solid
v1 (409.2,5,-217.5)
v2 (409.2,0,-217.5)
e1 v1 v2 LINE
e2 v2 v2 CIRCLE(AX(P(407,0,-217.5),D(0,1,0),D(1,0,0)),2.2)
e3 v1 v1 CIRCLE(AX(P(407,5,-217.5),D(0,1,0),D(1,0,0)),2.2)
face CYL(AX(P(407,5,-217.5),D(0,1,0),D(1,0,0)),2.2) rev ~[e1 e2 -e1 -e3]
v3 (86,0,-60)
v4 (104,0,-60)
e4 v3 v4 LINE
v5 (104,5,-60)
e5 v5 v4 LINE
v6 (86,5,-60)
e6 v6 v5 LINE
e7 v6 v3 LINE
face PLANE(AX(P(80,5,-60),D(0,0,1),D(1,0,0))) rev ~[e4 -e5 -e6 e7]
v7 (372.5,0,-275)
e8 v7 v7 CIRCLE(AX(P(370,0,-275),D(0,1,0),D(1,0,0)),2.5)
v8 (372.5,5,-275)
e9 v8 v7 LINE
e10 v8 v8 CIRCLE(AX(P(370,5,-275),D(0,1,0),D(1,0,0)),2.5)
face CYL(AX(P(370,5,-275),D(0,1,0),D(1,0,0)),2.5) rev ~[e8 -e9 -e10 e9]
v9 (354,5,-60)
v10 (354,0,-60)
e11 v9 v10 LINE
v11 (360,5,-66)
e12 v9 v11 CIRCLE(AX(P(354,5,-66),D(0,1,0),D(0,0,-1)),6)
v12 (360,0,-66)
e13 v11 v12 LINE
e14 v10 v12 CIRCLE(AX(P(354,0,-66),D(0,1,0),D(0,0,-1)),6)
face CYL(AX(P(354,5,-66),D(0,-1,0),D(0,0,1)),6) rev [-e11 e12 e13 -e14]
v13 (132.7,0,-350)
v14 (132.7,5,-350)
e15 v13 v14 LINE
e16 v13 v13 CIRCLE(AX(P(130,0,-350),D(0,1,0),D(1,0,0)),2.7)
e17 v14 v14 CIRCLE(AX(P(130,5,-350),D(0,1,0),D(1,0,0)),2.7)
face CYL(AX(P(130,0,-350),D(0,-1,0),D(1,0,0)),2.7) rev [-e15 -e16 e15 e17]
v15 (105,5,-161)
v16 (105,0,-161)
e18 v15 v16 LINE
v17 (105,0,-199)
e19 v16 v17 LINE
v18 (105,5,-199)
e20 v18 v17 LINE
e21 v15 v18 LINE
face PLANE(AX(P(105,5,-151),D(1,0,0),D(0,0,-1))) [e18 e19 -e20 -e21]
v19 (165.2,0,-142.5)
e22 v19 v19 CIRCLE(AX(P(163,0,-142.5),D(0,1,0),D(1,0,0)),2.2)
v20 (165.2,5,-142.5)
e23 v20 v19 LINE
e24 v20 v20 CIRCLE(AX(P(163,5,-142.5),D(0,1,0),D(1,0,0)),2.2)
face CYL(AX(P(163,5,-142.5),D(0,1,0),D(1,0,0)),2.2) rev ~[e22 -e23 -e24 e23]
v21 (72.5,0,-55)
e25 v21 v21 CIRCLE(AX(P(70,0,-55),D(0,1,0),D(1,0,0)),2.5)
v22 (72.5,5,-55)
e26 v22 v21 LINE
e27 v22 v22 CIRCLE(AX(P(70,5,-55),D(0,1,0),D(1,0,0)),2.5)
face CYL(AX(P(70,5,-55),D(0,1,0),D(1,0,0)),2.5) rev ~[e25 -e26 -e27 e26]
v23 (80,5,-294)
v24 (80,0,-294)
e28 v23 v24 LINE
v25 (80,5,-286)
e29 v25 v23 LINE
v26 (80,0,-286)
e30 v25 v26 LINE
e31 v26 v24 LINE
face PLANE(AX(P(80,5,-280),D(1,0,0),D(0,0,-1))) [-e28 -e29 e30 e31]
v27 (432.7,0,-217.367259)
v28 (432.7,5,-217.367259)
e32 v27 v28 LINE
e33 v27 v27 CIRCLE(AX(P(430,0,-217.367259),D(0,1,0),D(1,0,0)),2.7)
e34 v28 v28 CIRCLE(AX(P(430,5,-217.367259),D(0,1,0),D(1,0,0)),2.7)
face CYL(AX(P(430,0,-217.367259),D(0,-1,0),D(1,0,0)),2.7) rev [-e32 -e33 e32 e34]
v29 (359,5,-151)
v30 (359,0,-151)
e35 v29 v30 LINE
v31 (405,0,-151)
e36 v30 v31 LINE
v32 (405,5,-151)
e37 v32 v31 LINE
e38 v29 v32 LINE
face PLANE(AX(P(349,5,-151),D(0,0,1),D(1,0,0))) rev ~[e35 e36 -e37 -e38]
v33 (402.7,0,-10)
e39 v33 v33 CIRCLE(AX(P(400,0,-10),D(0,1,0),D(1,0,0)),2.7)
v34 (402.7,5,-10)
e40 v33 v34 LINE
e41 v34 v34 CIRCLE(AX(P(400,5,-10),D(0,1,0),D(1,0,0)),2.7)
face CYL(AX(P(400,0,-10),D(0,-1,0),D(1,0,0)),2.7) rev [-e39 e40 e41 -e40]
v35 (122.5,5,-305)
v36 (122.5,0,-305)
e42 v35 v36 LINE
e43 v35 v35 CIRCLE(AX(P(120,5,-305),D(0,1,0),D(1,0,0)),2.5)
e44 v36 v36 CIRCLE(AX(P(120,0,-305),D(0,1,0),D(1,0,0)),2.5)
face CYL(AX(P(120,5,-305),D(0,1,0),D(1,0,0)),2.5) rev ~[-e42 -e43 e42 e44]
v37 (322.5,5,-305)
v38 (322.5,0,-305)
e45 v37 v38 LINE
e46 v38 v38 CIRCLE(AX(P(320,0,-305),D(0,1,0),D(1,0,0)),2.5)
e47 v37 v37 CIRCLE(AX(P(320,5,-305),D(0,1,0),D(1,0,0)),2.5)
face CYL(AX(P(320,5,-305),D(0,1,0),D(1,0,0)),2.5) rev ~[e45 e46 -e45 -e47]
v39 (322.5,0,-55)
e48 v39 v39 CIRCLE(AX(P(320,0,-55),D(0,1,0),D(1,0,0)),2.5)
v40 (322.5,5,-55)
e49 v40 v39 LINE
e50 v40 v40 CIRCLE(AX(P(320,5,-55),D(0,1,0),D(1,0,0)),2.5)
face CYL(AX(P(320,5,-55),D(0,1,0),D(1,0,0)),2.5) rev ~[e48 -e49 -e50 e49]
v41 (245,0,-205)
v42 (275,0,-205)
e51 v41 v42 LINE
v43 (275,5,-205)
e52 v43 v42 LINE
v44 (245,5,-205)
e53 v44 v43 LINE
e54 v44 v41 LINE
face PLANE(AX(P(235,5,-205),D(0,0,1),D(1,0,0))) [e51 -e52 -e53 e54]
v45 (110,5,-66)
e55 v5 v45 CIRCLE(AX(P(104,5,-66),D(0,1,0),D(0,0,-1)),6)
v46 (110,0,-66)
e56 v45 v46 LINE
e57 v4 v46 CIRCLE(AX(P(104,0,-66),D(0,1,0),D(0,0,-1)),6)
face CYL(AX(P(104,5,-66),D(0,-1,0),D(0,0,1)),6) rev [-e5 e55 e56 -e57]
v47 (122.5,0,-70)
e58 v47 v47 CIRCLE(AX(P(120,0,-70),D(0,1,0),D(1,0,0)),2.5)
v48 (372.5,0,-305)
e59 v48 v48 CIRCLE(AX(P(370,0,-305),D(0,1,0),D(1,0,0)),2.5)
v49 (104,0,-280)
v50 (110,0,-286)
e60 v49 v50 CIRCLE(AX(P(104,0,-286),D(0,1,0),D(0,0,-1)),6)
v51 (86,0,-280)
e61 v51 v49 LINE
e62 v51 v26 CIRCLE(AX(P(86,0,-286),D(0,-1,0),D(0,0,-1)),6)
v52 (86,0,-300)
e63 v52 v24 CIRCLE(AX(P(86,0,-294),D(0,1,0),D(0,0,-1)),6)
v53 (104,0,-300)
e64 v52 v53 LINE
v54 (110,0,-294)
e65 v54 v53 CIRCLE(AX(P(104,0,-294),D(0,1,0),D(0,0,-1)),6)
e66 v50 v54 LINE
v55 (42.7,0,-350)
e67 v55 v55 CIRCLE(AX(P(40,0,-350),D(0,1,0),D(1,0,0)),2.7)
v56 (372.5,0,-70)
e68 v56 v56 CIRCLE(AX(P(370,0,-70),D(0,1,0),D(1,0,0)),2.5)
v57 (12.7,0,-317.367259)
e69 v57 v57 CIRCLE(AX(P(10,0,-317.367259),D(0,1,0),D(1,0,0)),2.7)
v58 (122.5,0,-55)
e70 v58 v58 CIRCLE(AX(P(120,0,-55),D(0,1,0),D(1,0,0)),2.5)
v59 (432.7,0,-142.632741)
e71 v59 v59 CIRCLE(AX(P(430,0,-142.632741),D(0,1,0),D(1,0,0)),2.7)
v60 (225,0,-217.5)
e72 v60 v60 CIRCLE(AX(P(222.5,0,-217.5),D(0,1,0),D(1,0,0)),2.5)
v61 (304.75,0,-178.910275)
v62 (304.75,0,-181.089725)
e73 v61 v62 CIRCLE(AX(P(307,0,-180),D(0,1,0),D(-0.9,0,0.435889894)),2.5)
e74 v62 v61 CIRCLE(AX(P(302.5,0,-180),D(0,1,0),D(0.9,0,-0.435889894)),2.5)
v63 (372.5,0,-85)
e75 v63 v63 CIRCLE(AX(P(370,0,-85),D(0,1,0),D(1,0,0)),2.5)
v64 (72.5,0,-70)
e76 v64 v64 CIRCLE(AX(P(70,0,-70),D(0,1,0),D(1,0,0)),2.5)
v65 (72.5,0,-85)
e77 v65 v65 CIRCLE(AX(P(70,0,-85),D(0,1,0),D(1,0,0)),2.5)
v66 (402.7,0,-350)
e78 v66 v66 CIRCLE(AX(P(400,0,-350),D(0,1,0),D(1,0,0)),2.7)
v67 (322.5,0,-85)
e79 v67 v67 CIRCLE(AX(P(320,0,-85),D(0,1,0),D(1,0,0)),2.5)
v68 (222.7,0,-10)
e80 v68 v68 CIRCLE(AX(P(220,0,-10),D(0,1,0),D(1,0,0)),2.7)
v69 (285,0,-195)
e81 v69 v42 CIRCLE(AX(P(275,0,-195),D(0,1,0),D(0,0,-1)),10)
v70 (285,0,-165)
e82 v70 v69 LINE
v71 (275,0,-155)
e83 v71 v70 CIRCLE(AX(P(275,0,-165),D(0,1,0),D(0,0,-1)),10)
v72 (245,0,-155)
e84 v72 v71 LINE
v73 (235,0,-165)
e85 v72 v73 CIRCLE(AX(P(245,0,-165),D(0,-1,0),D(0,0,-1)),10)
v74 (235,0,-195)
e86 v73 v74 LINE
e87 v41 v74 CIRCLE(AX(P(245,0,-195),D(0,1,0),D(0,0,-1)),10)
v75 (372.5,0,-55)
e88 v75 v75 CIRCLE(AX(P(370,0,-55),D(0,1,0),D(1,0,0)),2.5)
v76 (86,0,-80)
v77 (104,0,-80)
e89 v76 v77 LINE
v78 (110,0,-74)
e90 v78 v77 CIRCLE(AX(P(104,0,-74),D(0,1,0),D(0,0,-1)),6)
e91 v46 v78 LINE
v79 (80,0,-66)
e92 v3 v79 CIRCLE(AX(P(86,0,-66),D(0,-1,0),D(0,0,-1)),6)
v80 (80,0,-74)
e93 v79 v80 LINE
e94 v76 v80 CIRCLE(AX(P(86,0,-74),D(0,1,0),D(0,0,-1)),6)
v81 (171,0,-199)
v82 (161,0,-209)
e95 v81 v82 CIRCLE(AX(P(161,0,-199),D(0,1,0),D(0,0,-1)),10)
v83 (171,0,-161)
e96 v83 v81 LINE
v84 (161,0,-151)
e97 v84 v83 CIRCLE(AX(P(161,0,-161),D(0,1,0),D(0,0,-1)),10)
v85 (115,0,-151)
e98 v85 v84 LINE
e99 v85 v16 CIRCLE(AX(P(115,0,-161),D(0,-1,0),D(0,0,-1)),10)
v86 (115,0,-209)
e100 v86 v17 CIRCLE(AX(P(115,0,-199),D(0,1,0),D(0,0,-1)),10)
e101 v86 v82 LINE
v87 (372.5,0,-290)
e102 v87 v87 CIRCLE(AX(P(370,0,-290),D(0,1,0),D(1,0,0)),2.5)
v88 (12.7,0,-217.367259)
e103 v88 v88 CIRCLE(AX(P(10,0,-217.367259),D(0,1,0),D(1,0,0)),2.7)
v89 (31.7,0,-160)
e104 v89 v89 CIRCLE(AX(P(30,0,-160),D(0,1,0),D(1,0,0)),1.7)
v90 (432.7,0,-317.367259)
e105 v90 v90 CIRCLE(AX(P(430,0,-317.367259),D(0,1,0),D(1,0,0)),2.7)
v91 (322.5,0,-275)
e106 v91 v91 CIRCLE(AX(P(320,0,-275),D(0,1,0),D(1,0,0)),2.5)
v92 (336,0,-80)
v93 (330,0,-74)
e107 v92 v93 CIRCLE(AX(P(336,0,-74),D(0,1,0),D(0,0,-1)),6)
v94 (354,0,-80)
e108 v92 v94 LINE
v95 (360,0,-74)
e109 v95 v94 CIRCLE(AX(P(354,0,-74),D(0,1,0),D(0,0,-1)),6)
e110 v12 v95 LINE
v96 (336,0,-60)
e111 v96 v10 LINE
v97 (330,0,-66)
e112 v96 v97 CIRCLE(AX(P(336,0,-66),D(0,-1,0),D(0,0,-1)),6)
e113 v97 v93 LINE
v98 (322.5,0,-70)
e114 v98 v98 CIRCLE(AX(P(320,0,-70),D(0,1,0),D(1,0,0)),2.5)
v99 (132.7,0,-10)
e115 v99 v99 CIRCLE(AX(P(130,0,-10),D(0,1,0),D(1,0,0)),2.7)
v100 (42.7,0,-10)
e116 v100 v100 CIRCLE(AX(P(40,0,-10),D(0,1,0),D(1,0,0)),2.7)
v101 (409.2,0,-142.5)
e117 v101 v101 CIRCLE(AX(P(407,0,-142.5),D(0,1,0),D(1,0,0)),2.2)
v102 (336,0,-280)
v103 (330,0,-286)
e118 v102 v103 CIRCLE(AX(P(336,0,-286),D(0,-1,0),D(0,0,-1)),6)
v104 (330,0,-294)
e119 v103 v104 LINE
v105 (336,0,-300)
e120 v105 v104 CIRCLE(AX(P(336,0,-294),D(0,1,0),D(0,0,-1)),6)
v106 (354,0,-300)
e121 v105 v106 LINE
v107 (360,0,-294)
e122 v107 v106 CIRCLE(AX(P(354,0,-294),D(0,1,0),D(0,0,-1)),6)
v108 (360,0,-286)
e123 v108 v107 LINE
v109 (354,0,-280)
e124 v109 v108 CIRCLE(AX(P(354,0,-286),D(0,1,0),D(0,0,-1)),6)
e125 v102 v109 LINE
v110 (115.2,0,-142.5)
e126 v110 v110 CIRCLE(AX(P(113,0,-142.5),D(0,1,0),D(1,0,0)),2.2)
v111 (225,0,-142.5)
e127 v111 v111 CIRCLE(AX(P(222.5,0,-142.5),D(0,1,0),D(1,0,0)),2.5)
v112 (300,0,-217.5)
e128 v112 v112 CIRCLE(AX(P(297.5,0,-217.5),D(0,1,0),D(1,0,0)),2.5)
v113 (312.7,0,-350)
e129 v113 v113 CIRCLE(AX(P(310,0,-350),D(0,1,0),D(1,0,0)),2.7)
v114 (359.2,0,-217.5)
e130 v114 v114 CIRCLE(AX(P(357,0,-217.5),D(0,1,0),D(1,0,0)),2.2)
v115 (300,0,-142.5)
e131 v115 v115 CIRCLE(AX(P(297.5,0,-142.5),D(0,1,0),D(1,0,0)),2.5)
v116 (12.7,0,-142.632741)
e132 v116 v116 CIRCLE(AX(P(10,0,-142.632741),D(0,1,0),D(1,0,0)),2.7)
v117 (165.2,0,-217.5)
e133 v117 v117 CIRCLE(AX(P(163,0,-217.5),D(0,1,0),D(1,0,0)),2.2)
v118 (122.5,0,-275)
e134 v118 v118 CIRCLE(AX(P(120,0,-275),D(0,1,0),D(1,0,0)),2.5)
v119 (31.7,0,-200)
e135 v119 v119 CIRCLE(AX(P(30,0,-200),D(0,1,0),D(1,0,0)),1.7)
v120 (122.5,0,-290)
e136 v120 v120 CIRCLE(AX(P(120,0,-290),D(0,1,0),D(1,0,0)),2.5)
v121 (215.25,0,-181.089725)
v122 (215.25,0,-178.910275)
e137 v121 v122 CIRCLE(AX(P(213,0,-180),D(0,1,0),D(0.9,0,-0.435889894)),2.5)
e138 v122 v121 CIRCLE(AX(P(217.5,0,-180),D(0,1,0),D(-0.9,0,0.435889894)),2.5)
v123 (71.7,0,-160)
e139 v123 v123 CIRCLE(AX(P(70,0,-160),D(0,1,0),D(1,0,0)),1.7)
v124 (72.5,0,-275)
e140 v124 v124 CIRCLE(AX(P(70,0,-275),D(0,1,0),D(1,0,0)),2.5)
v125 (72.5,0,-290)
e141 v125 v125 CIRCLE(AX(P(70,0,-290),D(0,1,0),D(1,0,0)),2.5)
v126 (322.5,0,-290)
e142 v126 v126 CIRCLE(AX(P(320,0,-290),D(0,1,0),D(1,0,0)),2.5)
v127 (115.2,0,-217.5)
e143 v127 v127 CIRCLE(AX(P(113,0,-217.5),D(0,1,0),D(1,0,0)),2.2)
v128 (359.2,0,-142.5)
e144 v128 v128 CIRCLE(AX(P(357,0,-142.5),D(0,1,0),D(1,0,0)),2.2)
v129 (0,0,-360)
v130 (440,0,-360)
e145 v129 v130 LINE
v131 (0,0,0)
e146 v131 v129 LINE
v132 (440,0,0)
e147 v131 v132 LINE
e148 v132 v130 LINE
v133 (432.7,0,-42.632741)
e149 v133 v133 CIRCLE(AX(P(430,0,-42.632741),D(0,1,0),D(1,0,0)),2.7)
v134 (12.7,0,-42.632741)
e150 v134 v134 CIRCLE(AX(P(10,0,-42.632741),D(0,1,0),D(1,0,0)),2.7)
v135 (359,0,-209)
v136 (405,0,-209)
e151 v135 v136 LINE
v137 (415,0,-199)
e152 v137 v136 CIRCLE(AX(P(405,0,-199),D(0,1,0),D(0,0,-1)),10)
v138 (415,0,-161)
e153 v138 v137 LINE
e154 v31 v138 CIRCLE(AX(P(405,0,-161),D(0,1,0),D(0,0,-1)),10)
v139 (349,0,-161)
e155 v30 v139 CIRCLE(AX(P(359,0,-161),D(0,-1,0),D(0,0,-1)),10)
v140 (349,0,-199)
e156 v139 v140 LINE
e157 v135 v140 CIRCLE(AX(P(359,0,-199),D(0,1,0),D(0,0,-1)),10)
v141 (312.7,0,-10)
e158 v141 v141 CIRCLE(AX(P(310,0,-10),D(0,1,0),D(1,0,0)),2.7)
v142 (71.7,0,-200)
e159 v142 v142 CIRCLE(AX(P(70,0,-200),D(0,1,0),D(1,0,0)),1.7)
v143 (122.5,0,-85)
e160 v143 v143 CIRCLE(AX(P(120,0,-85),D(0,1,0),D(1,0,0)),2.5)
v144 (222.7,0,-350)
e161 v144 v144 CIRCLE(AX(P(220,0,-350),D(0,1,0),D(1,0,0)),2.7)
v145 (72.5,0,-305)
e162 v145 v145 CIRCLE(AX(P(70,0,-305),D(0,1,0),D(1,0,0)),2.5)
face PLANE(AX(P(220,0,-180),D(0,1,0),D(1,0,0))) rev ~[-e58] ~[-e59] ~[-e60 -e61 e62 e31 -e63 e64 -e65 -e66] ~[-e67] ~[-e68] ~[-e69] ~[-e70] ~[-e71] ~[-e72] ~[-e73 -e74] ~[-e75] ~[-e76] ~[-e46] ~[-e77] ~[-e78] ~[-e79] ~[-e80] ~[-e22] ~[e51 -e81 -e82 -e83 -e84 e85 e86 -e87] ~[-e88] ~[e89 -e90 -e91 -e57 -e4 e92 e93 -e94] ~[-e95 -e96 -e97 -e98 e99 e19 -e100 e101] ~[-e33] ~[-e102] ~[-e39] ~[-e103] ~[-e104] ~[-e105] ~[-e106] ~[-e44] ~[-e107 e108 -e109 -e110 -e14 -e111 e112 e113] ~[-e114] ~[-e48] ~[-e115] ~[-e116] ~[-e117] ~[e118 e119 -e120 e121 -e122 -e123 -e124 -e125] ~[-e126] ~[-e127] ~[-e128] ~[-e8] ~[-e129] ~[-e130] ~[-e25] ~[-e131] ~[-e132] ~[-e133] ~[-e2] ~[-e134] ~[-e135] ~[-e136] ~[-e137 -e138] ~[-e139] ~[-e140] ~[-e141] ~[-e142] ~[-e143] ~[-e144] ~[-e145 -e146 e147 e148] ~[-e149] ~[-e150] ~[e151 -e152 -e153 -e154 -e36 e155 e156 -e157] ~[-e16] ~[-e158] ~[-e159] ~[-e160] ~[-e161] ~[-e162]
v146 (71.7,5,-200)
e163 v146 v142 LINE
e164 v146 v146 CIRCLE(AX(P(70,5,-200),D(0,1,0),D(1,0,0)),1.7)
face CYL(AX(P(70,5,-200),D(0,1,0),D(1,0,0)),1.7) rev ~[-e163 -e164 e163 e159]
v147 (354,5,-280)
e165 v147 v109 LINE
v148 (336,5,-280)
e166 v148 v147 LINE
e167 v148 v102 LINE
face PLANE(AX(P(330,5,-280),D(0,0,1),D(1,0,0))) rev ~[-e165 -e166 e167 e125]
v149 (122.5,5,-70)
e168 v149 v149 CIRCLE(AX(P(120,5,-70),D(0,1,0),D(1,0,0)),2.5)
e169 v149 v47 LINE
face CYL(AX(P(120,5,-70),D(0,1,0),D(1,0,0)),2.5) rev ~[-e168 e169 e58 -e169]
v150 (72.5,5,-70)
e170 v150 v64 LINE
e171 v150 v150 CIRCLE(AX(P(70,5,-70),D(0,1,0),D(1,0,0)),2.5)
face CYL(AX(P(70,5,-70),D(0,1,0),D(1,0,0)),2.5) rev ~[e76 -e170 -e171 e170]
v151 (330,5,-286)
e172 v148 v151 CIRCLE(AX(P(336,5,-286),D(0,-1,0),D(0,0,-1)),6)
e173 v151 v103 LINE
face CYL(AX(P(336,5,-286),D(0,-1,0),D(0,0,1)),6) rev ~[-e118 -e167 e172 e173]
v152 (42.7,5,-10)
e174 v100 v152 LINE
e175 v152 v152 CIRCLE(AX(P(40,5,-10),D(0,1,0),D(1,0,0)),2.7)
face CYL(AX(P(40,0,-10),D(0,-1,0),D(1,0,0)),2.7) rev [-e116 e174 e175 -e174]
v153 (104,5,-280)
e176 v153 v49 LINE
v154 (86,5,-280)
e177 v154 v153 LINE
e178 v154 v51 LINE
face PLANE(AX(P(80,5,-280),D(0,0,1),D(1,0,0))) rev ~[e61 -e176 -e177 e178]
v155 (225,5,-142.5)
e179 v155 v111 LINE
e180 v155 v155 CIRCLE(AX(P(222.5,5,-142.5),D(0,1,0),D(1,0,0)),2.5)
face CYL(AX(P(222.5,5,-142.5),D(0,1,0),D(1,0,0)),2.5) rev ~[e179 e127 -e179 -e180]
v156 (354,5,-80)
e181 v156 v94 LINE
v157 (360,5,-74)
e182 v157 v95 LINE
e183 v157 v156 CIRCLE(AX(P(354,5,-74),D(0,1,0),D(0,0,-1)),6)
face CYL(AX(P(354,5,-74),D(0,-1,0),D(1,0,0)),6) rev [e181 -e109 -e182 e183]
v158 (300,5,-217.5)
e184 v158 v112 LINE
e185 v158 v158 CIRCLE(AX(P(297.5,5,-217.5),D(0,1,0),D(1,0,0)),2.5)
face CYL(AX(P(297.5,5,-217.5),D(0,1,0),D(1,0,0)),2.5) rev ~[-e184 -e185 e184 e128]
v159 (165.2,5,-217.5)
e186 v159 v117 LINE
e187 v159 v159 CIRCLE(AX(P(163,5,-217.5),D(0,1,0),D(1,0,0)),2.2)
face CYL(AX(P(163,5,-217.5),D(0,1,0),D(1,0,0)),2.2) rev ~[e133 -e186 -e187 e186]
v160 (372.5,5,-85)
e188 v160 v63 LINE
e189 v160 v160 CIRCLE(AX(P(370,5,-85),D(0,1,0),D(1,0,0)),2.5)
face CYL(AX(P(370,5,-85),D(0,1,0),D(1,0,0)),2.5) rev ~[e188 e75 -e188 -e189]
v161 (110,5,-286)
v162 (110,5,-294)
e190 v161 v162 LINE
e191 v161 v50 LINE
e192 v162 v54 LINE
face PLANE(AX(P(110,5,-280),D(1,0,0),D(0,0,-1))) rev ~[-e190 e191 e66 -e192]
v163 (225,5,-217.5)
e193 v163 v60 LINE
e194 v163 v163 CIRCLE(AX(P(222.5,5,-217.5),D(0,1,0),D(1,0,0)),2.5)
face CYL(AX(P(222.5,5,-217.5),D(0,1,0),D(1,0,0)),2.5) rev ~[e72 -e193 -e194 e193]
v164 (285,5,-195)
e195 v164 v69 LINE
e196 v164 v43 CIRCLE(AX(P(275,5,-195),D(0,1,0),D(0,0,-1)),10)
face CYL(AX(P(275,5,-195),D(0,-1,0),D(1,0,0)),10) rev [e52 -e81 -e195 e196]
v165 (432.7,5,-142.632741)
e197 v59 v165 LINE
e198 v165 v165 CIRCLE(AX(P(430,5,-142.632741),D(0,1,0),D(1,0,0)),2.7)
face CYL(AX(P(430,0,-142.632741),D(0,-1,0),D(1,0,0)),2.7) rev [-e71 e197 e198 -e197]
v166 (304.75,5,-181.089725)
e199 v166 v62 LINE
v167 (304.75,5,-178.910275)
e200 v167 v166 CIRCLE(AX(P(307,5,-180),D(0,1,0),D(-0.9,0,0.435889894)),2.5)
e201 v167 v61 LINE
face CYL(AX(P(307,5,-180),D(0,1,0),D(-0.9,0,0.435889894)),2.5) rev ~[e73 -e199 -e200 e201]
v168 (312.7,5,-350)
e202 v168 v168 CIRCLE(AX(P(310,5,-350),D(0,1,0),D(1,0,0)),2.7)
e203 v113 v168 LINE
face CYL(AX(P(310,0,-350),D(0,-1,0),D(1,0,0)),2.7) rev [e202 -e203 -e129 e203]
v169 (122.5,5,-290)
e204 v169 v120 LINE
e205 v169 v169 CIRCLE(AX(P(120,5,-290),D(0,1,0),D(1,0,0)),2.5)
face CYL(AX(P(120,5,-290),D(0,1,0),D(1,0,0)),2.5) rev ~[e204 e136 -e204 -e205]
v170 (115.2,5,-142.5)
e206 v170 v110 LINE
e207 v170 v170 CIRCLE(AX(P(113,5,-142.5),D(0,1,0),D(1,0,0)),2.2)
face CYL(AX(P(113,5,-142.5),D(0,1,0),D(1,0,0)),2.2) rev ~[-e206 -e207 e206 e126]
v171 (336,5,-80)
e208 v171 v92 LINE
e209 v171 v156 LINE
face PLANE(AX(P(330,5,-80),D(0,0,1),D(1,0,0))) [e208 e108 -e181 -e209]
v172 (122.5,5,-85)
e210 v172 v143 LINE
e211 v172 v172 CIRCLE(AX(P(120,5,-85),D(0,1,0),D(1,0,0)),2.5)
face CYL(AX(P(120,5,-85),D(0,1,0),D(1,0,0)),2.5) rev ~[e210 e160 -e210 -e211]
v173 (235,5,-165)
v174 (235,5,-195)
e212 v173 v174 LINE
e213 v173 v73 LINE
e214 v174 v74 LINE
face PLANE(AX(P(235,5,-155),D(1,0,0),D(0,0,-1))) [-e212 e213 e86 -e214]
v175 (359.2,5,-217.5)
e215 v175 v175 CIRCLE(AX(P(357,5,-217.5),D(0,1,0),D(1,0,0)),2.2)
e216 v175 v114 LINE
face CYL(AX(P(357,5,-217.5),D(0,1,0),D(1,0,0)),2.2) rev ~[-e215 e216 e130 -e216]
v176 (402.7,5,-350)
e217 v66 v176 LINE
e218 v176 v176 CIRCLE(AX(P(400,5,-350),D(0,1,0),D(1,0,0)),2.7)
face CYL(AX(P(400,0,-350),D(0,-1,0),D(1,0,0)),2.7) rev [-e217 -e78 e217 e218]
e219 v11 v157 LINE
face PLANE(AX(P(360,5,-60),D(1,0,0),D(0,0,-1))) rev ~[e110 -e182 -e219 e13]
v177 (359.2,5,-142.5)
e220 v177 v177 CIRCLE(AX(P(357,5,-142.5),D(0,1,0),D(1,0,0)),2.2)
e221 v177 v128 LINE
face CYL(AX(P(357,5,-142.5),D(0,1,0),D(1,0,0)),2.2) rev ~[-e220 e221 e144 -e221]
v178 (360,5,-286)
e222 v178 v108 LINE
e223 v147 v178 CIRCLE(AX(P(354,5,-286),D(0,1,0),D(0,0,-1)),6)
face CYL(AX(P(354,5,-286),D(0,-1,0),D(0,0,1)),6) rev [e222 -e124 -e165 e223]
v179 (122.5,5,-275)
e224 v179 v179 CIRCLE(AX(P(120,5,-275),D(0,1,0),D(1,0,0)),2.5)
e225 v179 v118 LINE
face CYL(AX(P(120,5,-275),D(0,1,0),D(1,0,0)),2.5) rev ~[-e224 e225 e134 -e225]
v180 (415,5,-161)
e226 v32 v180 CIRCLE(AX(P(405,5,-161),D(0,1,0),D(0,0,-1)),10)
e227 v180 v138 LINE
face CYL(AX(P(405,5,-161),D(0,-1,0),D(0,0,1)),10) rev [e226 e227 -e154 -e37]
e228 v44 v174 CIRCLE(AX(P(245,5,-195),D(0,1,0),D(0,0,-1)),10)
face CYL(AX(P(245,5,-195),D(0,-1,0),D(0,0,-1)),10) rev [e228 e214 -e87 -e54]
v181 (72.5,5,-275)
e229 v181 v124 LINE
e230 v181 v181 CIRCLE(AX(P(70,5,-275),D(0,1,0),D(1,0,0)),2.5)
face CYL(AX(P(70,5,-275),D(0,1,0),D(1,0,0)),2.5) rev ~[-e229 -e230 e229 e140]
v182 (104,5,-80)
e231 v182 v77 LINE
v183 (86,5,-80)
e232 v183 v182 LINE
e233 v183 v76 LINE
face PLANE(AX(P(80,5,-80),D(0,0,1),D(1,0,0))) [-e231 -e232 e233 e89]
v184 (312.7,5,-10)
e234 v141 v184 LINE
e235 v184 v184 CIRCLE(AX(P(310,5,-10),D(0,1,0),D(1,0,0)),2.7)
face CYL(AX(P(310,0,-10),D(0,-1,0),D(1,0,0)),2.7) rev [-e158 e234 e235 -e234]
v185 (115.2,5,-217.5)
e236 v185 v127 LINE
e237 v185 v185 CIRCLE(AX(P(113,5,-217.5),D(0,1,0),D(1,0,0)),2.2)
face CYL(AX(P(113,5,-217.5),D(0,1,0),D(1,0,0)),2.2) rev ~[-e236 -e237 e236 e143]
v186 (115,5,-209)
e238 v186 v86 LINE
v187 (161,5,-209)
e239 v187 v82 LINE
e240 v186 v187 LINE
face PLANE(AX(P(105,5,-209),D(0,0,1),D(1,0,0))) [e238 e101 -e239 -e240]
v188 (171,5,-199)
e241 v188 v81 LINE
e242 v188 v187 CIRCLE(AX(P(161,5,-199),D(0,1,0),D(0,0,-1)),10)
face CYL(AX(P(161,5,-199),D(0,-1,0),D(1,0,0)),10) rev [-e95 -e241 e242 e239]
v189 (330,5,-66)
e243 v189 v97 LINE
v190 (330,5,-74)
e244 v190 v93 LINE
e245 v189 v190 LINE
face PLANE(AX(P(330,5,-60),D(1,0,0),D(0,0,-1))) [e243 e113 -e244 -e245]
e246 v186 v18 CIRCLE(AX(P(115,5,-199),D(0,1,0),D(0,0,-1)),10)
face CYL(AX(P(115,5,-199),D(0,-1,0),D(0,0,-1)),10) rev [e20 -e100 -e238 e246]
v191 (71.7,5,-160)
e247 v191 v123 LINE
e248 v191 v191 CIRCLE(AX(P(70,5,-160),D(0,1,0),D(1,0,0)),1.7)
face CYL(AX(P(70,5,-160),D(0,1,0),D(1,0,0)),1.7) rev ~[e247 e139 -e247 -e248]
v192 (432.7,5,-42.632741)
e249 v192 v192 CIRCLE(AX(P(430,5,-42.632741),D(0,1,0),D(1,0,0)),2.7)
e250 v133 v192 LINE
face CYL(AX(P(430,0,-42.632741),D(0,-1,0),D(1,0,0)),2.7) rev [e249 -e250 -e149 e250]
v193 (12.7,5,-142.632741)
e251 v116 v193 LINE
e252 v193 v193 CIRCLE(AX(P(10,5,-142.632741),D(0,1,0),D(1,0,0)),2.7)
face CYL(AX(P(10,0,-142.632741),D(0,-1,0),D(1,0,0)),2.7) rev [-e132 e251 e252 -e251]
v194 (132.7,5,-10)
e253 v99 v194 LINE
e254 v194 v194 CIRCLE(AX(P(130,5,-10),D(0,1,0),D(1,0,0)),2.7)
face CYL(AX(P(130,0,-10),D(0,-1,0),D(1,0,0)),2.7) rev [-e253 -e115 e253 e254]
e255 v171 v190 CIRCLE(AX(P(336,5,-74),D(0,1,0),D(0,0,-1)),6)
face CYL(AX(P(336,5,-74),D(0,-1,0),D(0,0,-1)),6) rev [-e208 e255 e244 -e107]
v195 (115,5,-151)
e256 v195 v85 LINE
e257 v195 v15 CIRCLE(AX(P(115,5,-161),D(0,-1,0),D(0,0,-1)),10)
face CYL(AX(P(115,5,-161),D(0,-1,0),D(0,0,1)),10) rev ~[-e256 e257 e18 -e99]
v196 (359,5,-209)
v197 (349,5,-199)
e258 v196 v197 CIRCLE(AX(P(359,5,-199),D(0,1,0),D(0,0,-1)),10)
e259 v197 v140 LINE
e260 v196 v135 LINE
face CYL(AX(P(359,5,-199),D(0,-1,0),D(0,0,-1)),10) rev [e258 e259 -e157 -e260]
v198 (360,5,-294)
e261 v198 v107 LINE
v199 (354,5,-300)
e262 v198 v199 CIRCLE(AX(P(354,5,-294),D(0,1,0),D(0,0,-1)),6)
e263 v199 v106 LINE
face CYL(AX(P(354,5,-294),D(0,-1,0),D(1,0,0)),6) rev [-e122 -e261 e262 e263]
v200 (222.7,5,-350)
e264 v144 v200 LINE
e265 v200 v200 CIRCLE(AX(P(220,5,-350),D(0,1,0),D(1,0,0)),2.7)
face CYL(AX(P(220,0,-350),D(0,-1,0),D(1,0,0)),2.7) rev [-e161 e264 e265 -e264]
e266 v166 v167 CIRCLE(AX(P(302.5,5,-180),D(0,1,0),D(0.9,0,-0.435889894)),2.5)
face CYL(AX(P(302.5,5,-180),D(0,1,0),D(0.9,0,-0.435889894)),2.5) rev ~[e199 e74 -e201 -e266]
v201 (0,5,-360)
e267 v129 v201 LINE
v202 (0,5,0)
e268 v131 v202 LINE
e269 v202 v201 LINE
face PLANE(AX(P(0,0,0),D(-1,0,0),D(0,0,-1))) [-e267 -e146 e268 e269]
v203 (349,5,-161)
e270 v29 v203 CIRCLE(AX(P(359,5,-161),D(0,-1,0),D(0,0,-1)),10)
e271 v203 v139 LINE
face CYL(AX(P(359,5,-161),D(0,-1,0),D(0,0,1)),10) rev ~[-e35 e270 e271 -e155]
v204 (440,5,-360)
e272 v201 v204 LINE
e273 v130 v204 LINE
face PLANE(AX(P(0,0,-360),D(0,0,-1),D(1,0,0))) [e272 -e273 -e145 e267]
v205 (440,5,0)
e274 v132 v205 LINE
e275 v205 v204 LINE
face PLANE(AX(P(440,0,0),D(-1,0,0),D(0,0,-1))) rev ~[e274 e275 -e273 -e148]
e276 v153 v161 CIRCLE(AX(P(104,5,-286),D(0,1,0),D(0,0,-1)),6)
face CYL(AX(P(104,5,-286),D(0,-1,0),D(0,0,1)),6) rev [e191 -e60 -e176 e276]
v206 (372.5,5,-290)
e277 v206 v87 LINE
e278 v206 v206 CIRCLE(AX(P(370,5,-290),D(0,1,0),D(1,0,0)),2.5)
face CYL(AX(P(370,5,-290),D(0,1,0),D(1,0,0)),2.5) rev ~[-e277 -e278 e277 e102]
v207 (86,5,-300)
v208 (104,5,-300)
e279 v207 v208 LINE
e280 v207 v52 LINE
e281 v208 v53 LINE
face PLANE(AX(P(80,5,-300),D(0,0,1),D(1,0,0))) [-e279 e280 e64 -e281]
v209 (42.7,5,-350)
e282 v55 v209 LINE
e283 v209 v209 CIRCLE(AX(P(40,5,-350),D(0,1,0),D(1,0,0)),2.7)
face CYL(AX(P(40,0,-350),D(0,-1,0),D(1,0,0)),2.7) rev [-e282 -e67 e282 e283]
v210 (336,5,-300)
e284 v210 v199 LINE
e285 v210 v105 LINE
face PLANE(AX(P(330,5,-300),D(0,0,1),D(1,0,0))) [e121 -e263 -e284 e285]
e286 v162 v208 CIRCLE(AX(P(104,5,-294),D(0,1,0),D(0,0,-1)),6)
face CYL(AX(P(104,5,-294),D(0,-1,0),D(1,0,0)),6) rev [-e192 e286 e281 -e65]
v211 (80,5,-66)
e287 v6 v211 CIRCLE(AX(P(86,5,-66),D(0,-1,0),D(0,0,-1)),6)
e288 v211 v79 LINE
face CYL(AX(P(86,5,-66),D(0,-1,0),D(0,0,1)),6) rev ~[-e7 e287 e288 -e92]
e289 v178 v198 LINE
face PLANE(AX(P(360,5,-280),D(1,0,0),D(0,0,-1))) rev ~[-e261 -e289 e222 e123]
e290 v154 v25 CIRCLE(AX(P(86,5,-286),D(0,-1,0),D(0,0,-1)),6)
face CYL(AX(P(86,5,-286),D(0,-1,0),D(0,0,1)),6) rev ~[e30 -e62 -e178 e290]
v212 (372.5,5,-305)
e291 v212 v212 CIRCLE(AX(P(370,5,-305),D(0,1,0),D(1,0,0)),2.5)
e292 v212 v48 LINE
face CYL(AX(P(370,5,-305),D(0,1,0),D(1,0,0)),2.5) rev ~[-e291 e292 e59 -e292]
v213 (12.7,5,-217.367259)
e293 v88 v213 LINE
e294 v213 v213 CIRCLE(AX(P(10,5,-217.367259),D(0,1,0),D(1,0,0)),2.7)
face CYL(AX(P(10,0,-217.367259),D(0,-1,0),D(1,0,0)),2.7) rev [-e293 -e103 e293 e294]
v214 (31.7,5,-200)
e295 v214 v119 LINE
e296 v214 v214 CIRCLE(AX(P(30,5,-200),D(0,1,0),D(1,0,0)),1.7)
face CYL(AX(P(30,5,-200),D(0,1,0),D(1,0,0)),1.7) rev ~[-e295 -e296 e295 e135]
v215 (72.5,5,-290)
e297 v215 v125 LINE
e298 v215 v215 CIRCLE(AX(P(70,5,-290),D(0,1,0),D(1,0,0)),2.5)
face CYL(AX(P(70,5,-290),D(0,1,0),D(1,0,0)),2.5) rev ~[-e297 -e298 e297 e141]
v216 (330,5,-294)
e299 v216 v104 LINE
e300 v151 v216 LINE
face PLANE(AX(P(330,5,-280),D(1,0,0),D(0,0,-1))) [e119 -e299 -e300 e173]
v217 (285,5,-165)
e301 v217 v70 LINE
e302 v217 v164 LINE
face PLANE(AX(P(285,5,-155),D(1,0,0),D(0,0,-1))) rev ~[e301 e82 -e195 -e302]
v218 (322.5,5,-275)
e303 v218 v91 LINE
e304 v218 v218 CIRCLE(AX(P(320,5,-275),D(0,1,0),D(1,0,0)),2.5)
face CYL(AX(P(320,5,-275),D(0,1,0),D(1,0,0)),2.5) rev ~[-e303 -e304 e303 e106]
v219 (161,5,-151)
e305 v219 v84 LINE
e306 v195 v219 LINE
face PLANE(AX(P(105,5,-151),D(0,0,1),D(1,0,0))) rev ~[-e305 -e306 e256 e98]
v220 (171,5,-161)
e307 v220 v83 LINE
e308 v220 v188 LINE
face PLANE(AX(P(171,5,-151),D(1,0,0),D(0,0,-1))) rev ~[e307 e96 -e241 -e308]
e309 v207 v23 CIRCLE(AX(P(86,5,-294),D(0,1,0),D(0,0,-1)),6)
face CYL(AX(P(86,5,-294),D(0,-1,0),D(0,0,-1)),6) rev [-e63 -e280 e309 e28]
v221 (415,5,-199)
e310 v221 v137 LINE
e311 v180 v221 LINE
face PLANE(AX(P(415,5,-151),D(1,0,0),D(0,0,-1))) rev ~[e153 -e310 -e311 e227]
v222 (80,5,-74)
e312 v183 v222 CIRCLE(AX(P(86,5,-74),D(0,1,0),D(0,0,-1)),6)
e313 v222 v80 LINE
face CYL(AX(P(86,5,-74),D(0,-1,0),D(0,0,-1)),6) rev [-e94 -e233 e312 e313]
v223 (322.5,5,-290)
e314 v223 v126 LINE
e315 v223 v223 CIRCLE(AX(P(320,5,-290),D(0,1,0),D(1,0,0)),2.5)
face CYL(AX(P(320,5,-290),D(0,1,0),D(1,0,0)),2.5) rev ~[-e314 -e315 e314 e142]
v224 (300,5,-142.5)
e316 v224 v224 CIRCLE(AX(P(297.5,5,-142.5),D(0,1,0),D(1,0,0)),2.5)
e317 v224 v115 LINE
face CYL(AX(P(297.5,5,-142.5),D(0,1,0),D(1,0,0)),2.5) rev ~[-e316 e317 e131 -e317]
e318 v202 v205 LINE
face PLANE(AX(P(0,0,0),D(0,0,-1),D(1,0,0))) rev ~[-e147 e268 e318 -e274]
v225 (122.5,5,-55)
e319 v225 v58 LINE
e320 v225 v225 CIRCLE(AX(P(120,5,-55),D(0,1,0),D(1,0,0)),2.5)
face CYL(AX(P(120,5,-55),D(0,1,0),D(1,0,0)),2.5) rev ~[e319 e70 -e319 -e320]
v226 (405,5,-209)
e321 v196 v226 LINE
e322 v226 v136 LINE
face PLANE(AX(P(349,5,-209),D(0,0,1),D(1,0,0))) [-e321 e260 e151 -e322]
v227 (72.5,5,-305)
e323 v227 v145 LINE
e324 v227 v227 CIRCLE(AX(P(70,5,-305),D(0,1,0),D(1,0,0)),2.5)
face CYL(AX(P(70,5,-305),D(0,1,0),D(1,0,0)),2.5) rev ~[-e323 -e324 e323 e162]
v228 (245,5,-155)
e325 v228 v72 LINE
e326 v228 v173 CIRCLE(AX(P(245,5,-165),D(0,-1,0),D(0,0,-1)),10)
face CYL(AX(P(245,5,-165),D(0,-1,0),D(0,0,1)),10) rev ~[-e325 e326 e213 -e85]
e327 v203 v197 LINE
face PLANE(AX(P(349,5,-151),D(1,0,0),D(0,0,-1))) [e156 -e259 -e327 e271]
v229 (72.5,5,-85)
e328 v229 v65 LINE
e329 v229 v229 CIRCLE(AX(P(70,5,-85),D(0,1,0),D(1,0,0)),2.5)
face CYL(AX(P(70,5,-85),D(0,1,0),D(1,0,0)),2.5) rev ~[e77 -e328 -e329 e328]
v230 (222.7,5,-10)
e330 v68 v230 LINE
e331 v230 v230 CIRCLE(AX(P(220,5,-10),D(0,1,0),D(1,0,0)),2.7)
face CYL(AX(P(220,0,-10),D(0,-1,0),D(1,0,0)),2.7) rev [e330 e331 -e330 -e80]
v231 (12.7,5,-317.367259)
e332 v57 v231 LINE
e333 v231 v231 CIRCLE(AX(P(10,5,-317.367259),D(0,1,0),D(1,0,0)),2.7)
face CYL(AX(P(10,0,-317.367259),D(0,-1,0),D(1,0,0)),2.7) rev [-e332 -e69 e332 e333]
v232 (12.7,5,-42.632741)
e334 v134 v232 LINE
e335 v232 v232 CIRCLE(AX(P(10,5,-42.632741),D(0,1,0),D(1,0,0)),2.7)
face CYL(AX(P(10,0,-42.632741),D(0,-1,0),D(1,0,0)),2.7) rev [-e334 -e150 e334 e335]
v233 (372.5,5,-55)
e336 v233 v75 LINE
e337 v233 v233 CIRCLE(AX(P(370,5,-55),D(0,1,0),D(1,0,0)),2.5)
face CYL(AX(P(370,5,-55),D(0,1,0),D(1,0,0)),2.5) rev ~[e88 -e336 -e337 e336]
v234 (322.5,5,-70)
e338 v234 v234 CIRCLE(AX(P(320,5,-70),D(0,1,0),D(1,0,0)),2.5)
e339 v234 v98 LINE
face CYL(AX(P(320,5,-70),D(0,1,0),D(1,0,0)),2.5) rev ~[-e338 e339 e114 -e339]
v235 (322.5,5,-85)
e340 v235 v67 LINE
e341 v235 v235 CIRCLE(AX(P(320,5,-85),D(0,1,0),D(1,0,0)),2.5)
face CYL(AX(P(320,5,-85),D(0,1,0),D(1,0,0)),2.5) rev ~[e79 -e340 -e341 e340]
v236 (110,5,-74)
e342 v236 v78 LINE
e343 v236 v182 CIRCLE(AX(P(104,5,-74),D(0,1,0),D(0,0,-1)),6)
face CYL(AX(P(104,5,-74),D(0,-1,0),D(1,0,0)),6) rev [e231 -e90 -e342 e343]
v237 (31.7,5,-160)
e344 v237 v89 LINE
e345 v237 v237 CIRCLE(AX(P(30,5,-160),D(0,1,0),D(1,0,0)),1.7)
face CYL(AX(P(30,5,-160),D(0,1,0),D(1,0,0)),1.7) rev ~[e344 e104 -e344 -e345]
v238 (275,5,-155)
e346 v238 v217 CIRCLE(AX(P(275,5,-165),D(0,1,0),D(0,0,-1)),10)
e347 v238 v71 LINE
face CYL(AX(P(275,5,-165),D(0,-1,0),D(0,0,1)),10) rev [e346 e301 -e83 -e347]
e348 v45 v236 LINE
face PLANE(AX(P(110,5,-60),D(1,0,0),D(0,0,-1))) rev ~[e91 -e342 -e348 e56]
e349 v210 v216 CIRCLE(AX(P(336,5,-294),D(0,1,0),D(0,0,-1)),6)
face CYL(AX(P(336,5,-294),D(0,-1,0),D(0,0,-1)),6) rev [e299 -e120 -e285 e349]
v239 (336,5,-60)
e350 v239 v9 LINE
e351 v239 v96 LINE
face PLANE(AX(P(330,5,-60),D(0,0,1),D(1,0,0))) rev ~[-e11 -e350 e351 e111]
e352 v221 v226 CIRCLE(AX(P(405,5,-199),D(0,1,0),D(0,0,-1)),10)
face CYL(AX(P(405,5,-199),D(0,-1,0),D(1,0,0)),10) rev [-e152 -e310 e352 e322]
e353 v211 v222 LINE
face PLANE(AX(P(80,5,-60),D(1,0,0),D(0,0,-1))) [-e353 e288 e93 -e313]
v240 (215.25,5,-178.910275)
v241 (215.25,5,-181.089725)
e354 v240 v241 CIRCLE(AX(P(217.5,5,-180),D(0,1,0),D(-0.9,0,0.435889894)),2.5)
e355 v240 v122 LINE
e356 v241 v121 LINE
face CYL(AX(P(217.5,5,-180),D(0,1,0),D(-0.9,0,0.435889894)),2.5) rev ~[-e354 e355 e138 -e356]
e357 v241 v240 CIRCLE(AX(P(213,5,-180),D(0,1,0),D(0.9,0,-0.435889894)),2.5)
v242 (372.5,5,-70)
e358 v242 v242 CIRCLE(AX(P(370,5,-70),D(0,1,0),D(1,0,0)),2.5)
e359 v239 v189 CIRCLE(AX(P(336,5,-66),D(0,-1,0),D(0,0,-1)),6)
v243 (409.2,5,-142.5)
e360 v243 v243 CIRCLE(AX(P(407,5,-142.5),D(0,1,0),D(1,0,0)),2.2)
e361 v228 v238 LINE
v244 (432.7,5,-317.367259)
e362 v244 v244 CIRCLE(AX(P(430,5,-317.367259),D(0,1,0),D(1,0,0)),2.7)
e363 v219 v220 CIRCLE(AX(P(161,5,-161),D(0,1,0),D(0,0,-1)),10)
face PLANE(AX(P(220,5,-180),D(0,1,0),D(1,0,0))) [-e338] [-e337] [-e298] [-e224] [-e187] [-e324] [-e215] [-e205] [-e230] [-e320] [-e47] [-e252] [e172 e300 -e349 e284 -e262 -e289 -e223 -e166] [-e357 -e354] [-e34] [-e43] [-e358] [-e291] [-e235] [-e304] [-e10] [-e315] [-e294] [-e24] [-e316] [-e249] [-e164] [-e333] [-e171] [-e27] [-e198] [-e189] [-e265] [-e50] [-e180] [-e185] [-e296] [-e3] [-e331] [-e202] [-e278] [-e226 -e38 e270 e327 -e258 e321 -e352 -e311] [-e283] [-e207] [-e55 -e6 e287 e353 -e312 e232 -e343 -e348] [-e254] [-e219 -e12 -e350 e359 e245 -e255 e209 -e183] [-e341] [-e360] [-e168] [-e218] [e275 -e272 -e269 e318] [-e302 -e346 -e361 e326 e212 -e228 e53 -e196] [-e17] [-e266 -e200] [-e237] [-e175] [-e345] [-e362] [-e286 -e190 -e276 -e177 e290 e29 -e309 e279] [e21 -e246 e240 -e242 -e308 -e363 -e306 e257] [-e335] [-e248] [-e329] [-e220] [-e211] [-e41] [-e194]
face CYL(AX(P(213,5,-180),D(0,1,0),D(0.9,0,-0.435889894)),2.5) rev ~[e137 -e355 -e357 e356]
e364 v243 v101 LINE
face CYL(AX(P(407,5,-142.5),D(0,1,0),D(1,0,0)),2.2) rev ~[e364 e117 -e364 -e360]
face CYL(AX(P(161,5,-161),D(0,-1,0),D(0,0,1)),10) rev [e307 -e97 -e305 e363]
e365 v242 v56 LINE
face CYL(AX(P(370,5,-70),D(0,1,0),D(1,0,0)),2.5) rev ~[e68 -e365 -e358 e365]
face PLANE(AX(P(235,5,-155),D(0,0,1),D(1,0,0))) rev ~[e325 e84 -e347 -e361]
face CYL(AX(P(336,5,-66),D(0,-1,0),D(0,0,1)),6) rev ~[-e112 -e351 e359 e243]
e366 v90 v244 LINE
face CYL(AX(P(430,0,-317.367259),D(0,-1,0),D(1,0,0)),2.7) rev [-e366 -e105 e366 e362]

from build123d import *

# Parameters (mm, degrees)
ESQUISSE1_W             = 440
ESQUISSE1_H             = 360
ESQUISSE1_R             = 2.7
BOSS_EXTRU_1_DEPTH      = 5
ESQUISSE2_R             = 1.7
ESQUISSE2_R_2           = 2.5
ESQUISSE2_R_3           = 2.2
ESQUISSE2_W             = 66
ESQUISSE2_H             = 58
ESQUISSE2_W_2           = 50
ESQUISSE2_H_2           = 50
ENL_V_MAT_EXTRU_1_DEPTH = 6
CONG_1_R                = 10
ESQUISSE4_R             = 2.5
ESQUISSE4_W             = 30
ESQUISSE4_H             = 20
ENL_V_MAT_EXTRU_2_DEPTH = 10
CONG_2_R                = 6


with BuildPart() as part:
    # Esquisse1 → Boss.-Extru.1 (new body)
    with BuildSketch(Plane(origin=(0, 0, 0), x_dir=(1, 0, 0), z_dir=(0, 1, 0))):
        with Locations((220, 180)):
            Rectangle(ESQUISSE1_W, ESQUISSE1_H)
        with Locations((40, 350)):
            Circle(ESQUISSE1_R, mode=Mode.SUBTRACT)
        with Locations((130, 350)):
            Circle(ESQUISSE1_R, mode=Mode.SUBTRACT)
        with Locations((220, 350)):
            Circle(ESQUISSE1_R, mode=Mode.SUBTRACT)
        with Locations((310, 350)):
            Circle(ESQUISSE1_R, mode=Mode.SUBTRACT)
        with Locations((400, 350)):
            Circle(ESQUISSE1_R, mode=Mode.SUBTRACT)
        with Locations((400, 10)):
            Circle(ESQUISSE1_R, mode=Mode.SUBTRACT)
        with Locations((310, 10)):
            Circle(ESQUISSE1_R, mode=Mode.SUBTRACT)
        with Locations((220, 10)):
            Circle(ESQUISSE1_R, mode=Mode.SUBTRACT)
        with Locations((130, 10)):
            Circle(ESQUISSE1_R, mode=Mode.SUBTRACT)
        with Locations((40, 10)):
            Circle(ESQUISSE1_R, mode=Mode.SUBTRACT)
        with Locations((10, 217.36725867)):
            Circle(ESQUISSE1_R, mode=Mode.SUBTRACT)
        with Locations((10, 317.36725867)):
            Circle(ESQUISSE1_R, mode=Mode.SUBTRACT)
        with Locations((10, 42.63274133)):
            Circle(ESQUISSE1_R, mode=Mode.SUBTRACT)
        with Locations((10, 142.63274133)):
            Circle(ESQUISSE1_R, mode=Mode.SUBTRACT)
        with Locations((430, 142.63274133)):
            Circle(ESQUISSE1_R, mode=Mode.SUBTRACT)
        with Locations((430, 42.63274133)):
            Circle(ESQUISSE1_R, mode=Mode.SUBTRACT)
        with Locations((430, 317.36725867)):
            Circle(ESQUISSE1_R, mode=Mode.SUBTRACT)
        with Locations((430, 217.36725867)):
            Circle(ESQUISSE1_R, mode=Mode.SUBTRACT)
    extrude(amount=BOSS_EXTRU_1_DEPTH)

    # Esquisse2 → Enlèv. mat.-Extru.1 (cut, through all)
    with BuildSketch(Plane(origin=(0, 5, 0), x_dir=(1, 0, 0), z_dir=(0, 1, 0))):
        with Locations((30, 200)):
            Circle(ESQUISSE2_R)
        with Locations((70, 200)):
            Circle(ESQUISSE2_R)
        with Locations((70, 160)):
            Circle(ESQUISSE2_R)
        with Locations((30, 160)):
            Circle(ESQUISSE2_R)
        with Locations((222.5, 217.5)):
            Circle(ESQUISSE2_R_2)
        with Locations((297.5, 217.5)):
            Circle(ESQUISSE2_R_2)
        with Locations((222.5, 142.5)):
            Circle(ESQUISSE2_R_2)
        with Locations((297.5, 142.5)):
            Circle(ESQUISSE2_R_2)
        with Locations((407, 142.5)):
            Circle(ESQUISSE2_R_3)
        with Locations((357, 142.5)):
            Circle(ESQUISSE2_R_3)
        with Locations((357, 217.5)):
            Circle(ESQUISSE2_R_3)
        with Locations((407, 217.5)):
            Circle(ESQUISSE2_R_3)
        with Locations((163, 142.5)):
            Circle(ESQUISSE2_R_3)
        with Locations((113, 142.5)):
            Circle(ESQUISSE2_R_3)
        with Locations((113, 217.5)):
            Circle(ESQUISSE2_R_3)
        with Locations((163, 217.5)):
            Circle(ESQUISSE2_R_3)
        with Locations((138, 180)):
            Rectangle(ESQUISSE2_W, ESQUISSE2_H)
        with Locations((382, 180)):
            Rectangle(ESQUISSE2_W, ESQUISSE2_H)
        with Locations((260, 180)):
            Rectangle(ESQUISSE2_W_2, ESQUISSE2_H_2)
        with BuildLine():
            ThreePointArc((215.25, 181.089724736), (210.5, 180), (215.25, 178.910275264))
            ThreePointArc((215.25, 178.910275264), (220, 180), (215.25, 181.089724736))
        make_face()
        with BuildLine():
            ThreePointArc((304.75, 178.910275264), (309.5, 180), (304.75, 181.089724736))
            ThreePointArc((304.75, 181.089724736), (300, 180), (304.75, 178.910275264))
        make_face()
    extrude(amount=-ENL_V_MAT_EXTRU_1_DEPTH, mode=Mode.SUBTRACT)

    # Congé1
    cong_1_edges = [part.edges().sort_by_distance(p)[0] for p in [
        (415, 2.5, -209),
        (415, 2.5, -151),
        (349, 2.5, -151),
        (349, 2.5, -209),
        (105, 2.5, -151),
        (105, 2.5, -209),
        (171, 2.5, -209),
        (171, 2.5, -151),
        (285, 2.5, -205),
        (285, 2.5, -155),
        (235, 2.5, -155),
        (235, 2.5, -205),
    ]]
    fillet(cong_1_edges, radius=CONG_1_R)

    # Esquisse4 → Enlèv. mat.-Extru.2 (cut)
    with BuildSketch(Plane(origin=(0, 5, 0), x_dir=(1, 0, 0), z_dir=(0, 1, 0))):
        with Locations((70, 290)):
            Circle(ESQUISSE4_R)
        with Locations((120, 290)):
            Circle(ESQUISSE4_R)
        with Locations((70, 305)):
            Circle(ESQUISSE4_R)
        with Locations((70, 275)):
            Circle(ESQUISSE4_R)
        with Locations((120, 275)):
            Circle(ESQUISSE4_R)
        with Locations((120, 305)):
            Circle(ESQUISSE4_R)
        with Locations((320, 305)):
            Circle(ESQUISSE4_R)
        with Locations((320, 275)):
            Circle(ESQUISSE4_R)
        with Locations((370, 275)):
            Circle(ESQUISSE4_R)
        with Locations((370, 305)):
            Circle(ESQUISSE4_R)
        with Locations((320, 290)):
            Circle(ESQUISSE4_R)
        with Locations((370, 290)):
            Circle(ESQUISSE4_R)
        with Locations((370, 70)):
            Circle(ESQUISSE4_R)
        with Locations((320, 70)):
            Circle(ESQUISSE4_R)
        with Locations((370, 55)):
            Circle(ESQUISSE4_R)
        with Locations((370, 85)):
            Circle(ESQUISSE4_R)
        with Locations((320, 85)):
            Circle(ESQUISSE4_R)
        with Locations((320, 55)):
            Circle(ESQUISSE4_R)
        with Locations((120, 55)):
            Circle(ESQUISSE4_R)
        with Locations((120, 85)):
            Circle(ESQUISSE4_R)
        with Locations((70, 85)):
            Circle(ESQUISSE4_R)
        with Locations((70, 55)):
            Circle(ESQUISSE4_R)
        with Locations((120, 70)):
            Circle(ESQUISSE4_R)
        with Locations((70, 70)):
            Circle(ESQUISSE4_R)
        with Locations((95, 290)):
            Rectangle(ESQUISSE4_W, ESQUISSE4_H)
        with Locations((345, 290)):
            Rectangle(ESQUISSE4_W, ESQUISSE4_H)
        with Locations((345, 70)):
            Rectangle(ESQUISSE4_W, ESQUISSE4_H)
        with Locations((95, 70)):
            Rectangle(ESQUISSE4_W, ESQUISSE4_H)
    extrude(amount=-ENL_V_MAT_EXTRU_2_DEPTH, mode=Mode.SUBTRACT)

    # Congé2
    cong_2_edges = [part.edges().sort_by_distance(p)[0] for p in [
        (80, 2.5, -60),
        (80, 2.5, -80),
        (110, 2.5, -80),
        (110, 2.5, -60),
        (360, 2.5, -80),
        (360, 2.5, -60),
        (330, 2.5, -60),
        (330, 2.5, -80),
        (110, 2.5, -300),
        (110, 2.5, -280),
        (80, 2.5, -280),
        (80, 2.5, -300),
        (360, 2.5, -300),
        (360, 2.5, -280),
        (330, 2.5, -280),
        (330, 2.5, -300),
    ]]
    fillet(cong_2_edges, radius=CONG_2_R)


solid = part.part
